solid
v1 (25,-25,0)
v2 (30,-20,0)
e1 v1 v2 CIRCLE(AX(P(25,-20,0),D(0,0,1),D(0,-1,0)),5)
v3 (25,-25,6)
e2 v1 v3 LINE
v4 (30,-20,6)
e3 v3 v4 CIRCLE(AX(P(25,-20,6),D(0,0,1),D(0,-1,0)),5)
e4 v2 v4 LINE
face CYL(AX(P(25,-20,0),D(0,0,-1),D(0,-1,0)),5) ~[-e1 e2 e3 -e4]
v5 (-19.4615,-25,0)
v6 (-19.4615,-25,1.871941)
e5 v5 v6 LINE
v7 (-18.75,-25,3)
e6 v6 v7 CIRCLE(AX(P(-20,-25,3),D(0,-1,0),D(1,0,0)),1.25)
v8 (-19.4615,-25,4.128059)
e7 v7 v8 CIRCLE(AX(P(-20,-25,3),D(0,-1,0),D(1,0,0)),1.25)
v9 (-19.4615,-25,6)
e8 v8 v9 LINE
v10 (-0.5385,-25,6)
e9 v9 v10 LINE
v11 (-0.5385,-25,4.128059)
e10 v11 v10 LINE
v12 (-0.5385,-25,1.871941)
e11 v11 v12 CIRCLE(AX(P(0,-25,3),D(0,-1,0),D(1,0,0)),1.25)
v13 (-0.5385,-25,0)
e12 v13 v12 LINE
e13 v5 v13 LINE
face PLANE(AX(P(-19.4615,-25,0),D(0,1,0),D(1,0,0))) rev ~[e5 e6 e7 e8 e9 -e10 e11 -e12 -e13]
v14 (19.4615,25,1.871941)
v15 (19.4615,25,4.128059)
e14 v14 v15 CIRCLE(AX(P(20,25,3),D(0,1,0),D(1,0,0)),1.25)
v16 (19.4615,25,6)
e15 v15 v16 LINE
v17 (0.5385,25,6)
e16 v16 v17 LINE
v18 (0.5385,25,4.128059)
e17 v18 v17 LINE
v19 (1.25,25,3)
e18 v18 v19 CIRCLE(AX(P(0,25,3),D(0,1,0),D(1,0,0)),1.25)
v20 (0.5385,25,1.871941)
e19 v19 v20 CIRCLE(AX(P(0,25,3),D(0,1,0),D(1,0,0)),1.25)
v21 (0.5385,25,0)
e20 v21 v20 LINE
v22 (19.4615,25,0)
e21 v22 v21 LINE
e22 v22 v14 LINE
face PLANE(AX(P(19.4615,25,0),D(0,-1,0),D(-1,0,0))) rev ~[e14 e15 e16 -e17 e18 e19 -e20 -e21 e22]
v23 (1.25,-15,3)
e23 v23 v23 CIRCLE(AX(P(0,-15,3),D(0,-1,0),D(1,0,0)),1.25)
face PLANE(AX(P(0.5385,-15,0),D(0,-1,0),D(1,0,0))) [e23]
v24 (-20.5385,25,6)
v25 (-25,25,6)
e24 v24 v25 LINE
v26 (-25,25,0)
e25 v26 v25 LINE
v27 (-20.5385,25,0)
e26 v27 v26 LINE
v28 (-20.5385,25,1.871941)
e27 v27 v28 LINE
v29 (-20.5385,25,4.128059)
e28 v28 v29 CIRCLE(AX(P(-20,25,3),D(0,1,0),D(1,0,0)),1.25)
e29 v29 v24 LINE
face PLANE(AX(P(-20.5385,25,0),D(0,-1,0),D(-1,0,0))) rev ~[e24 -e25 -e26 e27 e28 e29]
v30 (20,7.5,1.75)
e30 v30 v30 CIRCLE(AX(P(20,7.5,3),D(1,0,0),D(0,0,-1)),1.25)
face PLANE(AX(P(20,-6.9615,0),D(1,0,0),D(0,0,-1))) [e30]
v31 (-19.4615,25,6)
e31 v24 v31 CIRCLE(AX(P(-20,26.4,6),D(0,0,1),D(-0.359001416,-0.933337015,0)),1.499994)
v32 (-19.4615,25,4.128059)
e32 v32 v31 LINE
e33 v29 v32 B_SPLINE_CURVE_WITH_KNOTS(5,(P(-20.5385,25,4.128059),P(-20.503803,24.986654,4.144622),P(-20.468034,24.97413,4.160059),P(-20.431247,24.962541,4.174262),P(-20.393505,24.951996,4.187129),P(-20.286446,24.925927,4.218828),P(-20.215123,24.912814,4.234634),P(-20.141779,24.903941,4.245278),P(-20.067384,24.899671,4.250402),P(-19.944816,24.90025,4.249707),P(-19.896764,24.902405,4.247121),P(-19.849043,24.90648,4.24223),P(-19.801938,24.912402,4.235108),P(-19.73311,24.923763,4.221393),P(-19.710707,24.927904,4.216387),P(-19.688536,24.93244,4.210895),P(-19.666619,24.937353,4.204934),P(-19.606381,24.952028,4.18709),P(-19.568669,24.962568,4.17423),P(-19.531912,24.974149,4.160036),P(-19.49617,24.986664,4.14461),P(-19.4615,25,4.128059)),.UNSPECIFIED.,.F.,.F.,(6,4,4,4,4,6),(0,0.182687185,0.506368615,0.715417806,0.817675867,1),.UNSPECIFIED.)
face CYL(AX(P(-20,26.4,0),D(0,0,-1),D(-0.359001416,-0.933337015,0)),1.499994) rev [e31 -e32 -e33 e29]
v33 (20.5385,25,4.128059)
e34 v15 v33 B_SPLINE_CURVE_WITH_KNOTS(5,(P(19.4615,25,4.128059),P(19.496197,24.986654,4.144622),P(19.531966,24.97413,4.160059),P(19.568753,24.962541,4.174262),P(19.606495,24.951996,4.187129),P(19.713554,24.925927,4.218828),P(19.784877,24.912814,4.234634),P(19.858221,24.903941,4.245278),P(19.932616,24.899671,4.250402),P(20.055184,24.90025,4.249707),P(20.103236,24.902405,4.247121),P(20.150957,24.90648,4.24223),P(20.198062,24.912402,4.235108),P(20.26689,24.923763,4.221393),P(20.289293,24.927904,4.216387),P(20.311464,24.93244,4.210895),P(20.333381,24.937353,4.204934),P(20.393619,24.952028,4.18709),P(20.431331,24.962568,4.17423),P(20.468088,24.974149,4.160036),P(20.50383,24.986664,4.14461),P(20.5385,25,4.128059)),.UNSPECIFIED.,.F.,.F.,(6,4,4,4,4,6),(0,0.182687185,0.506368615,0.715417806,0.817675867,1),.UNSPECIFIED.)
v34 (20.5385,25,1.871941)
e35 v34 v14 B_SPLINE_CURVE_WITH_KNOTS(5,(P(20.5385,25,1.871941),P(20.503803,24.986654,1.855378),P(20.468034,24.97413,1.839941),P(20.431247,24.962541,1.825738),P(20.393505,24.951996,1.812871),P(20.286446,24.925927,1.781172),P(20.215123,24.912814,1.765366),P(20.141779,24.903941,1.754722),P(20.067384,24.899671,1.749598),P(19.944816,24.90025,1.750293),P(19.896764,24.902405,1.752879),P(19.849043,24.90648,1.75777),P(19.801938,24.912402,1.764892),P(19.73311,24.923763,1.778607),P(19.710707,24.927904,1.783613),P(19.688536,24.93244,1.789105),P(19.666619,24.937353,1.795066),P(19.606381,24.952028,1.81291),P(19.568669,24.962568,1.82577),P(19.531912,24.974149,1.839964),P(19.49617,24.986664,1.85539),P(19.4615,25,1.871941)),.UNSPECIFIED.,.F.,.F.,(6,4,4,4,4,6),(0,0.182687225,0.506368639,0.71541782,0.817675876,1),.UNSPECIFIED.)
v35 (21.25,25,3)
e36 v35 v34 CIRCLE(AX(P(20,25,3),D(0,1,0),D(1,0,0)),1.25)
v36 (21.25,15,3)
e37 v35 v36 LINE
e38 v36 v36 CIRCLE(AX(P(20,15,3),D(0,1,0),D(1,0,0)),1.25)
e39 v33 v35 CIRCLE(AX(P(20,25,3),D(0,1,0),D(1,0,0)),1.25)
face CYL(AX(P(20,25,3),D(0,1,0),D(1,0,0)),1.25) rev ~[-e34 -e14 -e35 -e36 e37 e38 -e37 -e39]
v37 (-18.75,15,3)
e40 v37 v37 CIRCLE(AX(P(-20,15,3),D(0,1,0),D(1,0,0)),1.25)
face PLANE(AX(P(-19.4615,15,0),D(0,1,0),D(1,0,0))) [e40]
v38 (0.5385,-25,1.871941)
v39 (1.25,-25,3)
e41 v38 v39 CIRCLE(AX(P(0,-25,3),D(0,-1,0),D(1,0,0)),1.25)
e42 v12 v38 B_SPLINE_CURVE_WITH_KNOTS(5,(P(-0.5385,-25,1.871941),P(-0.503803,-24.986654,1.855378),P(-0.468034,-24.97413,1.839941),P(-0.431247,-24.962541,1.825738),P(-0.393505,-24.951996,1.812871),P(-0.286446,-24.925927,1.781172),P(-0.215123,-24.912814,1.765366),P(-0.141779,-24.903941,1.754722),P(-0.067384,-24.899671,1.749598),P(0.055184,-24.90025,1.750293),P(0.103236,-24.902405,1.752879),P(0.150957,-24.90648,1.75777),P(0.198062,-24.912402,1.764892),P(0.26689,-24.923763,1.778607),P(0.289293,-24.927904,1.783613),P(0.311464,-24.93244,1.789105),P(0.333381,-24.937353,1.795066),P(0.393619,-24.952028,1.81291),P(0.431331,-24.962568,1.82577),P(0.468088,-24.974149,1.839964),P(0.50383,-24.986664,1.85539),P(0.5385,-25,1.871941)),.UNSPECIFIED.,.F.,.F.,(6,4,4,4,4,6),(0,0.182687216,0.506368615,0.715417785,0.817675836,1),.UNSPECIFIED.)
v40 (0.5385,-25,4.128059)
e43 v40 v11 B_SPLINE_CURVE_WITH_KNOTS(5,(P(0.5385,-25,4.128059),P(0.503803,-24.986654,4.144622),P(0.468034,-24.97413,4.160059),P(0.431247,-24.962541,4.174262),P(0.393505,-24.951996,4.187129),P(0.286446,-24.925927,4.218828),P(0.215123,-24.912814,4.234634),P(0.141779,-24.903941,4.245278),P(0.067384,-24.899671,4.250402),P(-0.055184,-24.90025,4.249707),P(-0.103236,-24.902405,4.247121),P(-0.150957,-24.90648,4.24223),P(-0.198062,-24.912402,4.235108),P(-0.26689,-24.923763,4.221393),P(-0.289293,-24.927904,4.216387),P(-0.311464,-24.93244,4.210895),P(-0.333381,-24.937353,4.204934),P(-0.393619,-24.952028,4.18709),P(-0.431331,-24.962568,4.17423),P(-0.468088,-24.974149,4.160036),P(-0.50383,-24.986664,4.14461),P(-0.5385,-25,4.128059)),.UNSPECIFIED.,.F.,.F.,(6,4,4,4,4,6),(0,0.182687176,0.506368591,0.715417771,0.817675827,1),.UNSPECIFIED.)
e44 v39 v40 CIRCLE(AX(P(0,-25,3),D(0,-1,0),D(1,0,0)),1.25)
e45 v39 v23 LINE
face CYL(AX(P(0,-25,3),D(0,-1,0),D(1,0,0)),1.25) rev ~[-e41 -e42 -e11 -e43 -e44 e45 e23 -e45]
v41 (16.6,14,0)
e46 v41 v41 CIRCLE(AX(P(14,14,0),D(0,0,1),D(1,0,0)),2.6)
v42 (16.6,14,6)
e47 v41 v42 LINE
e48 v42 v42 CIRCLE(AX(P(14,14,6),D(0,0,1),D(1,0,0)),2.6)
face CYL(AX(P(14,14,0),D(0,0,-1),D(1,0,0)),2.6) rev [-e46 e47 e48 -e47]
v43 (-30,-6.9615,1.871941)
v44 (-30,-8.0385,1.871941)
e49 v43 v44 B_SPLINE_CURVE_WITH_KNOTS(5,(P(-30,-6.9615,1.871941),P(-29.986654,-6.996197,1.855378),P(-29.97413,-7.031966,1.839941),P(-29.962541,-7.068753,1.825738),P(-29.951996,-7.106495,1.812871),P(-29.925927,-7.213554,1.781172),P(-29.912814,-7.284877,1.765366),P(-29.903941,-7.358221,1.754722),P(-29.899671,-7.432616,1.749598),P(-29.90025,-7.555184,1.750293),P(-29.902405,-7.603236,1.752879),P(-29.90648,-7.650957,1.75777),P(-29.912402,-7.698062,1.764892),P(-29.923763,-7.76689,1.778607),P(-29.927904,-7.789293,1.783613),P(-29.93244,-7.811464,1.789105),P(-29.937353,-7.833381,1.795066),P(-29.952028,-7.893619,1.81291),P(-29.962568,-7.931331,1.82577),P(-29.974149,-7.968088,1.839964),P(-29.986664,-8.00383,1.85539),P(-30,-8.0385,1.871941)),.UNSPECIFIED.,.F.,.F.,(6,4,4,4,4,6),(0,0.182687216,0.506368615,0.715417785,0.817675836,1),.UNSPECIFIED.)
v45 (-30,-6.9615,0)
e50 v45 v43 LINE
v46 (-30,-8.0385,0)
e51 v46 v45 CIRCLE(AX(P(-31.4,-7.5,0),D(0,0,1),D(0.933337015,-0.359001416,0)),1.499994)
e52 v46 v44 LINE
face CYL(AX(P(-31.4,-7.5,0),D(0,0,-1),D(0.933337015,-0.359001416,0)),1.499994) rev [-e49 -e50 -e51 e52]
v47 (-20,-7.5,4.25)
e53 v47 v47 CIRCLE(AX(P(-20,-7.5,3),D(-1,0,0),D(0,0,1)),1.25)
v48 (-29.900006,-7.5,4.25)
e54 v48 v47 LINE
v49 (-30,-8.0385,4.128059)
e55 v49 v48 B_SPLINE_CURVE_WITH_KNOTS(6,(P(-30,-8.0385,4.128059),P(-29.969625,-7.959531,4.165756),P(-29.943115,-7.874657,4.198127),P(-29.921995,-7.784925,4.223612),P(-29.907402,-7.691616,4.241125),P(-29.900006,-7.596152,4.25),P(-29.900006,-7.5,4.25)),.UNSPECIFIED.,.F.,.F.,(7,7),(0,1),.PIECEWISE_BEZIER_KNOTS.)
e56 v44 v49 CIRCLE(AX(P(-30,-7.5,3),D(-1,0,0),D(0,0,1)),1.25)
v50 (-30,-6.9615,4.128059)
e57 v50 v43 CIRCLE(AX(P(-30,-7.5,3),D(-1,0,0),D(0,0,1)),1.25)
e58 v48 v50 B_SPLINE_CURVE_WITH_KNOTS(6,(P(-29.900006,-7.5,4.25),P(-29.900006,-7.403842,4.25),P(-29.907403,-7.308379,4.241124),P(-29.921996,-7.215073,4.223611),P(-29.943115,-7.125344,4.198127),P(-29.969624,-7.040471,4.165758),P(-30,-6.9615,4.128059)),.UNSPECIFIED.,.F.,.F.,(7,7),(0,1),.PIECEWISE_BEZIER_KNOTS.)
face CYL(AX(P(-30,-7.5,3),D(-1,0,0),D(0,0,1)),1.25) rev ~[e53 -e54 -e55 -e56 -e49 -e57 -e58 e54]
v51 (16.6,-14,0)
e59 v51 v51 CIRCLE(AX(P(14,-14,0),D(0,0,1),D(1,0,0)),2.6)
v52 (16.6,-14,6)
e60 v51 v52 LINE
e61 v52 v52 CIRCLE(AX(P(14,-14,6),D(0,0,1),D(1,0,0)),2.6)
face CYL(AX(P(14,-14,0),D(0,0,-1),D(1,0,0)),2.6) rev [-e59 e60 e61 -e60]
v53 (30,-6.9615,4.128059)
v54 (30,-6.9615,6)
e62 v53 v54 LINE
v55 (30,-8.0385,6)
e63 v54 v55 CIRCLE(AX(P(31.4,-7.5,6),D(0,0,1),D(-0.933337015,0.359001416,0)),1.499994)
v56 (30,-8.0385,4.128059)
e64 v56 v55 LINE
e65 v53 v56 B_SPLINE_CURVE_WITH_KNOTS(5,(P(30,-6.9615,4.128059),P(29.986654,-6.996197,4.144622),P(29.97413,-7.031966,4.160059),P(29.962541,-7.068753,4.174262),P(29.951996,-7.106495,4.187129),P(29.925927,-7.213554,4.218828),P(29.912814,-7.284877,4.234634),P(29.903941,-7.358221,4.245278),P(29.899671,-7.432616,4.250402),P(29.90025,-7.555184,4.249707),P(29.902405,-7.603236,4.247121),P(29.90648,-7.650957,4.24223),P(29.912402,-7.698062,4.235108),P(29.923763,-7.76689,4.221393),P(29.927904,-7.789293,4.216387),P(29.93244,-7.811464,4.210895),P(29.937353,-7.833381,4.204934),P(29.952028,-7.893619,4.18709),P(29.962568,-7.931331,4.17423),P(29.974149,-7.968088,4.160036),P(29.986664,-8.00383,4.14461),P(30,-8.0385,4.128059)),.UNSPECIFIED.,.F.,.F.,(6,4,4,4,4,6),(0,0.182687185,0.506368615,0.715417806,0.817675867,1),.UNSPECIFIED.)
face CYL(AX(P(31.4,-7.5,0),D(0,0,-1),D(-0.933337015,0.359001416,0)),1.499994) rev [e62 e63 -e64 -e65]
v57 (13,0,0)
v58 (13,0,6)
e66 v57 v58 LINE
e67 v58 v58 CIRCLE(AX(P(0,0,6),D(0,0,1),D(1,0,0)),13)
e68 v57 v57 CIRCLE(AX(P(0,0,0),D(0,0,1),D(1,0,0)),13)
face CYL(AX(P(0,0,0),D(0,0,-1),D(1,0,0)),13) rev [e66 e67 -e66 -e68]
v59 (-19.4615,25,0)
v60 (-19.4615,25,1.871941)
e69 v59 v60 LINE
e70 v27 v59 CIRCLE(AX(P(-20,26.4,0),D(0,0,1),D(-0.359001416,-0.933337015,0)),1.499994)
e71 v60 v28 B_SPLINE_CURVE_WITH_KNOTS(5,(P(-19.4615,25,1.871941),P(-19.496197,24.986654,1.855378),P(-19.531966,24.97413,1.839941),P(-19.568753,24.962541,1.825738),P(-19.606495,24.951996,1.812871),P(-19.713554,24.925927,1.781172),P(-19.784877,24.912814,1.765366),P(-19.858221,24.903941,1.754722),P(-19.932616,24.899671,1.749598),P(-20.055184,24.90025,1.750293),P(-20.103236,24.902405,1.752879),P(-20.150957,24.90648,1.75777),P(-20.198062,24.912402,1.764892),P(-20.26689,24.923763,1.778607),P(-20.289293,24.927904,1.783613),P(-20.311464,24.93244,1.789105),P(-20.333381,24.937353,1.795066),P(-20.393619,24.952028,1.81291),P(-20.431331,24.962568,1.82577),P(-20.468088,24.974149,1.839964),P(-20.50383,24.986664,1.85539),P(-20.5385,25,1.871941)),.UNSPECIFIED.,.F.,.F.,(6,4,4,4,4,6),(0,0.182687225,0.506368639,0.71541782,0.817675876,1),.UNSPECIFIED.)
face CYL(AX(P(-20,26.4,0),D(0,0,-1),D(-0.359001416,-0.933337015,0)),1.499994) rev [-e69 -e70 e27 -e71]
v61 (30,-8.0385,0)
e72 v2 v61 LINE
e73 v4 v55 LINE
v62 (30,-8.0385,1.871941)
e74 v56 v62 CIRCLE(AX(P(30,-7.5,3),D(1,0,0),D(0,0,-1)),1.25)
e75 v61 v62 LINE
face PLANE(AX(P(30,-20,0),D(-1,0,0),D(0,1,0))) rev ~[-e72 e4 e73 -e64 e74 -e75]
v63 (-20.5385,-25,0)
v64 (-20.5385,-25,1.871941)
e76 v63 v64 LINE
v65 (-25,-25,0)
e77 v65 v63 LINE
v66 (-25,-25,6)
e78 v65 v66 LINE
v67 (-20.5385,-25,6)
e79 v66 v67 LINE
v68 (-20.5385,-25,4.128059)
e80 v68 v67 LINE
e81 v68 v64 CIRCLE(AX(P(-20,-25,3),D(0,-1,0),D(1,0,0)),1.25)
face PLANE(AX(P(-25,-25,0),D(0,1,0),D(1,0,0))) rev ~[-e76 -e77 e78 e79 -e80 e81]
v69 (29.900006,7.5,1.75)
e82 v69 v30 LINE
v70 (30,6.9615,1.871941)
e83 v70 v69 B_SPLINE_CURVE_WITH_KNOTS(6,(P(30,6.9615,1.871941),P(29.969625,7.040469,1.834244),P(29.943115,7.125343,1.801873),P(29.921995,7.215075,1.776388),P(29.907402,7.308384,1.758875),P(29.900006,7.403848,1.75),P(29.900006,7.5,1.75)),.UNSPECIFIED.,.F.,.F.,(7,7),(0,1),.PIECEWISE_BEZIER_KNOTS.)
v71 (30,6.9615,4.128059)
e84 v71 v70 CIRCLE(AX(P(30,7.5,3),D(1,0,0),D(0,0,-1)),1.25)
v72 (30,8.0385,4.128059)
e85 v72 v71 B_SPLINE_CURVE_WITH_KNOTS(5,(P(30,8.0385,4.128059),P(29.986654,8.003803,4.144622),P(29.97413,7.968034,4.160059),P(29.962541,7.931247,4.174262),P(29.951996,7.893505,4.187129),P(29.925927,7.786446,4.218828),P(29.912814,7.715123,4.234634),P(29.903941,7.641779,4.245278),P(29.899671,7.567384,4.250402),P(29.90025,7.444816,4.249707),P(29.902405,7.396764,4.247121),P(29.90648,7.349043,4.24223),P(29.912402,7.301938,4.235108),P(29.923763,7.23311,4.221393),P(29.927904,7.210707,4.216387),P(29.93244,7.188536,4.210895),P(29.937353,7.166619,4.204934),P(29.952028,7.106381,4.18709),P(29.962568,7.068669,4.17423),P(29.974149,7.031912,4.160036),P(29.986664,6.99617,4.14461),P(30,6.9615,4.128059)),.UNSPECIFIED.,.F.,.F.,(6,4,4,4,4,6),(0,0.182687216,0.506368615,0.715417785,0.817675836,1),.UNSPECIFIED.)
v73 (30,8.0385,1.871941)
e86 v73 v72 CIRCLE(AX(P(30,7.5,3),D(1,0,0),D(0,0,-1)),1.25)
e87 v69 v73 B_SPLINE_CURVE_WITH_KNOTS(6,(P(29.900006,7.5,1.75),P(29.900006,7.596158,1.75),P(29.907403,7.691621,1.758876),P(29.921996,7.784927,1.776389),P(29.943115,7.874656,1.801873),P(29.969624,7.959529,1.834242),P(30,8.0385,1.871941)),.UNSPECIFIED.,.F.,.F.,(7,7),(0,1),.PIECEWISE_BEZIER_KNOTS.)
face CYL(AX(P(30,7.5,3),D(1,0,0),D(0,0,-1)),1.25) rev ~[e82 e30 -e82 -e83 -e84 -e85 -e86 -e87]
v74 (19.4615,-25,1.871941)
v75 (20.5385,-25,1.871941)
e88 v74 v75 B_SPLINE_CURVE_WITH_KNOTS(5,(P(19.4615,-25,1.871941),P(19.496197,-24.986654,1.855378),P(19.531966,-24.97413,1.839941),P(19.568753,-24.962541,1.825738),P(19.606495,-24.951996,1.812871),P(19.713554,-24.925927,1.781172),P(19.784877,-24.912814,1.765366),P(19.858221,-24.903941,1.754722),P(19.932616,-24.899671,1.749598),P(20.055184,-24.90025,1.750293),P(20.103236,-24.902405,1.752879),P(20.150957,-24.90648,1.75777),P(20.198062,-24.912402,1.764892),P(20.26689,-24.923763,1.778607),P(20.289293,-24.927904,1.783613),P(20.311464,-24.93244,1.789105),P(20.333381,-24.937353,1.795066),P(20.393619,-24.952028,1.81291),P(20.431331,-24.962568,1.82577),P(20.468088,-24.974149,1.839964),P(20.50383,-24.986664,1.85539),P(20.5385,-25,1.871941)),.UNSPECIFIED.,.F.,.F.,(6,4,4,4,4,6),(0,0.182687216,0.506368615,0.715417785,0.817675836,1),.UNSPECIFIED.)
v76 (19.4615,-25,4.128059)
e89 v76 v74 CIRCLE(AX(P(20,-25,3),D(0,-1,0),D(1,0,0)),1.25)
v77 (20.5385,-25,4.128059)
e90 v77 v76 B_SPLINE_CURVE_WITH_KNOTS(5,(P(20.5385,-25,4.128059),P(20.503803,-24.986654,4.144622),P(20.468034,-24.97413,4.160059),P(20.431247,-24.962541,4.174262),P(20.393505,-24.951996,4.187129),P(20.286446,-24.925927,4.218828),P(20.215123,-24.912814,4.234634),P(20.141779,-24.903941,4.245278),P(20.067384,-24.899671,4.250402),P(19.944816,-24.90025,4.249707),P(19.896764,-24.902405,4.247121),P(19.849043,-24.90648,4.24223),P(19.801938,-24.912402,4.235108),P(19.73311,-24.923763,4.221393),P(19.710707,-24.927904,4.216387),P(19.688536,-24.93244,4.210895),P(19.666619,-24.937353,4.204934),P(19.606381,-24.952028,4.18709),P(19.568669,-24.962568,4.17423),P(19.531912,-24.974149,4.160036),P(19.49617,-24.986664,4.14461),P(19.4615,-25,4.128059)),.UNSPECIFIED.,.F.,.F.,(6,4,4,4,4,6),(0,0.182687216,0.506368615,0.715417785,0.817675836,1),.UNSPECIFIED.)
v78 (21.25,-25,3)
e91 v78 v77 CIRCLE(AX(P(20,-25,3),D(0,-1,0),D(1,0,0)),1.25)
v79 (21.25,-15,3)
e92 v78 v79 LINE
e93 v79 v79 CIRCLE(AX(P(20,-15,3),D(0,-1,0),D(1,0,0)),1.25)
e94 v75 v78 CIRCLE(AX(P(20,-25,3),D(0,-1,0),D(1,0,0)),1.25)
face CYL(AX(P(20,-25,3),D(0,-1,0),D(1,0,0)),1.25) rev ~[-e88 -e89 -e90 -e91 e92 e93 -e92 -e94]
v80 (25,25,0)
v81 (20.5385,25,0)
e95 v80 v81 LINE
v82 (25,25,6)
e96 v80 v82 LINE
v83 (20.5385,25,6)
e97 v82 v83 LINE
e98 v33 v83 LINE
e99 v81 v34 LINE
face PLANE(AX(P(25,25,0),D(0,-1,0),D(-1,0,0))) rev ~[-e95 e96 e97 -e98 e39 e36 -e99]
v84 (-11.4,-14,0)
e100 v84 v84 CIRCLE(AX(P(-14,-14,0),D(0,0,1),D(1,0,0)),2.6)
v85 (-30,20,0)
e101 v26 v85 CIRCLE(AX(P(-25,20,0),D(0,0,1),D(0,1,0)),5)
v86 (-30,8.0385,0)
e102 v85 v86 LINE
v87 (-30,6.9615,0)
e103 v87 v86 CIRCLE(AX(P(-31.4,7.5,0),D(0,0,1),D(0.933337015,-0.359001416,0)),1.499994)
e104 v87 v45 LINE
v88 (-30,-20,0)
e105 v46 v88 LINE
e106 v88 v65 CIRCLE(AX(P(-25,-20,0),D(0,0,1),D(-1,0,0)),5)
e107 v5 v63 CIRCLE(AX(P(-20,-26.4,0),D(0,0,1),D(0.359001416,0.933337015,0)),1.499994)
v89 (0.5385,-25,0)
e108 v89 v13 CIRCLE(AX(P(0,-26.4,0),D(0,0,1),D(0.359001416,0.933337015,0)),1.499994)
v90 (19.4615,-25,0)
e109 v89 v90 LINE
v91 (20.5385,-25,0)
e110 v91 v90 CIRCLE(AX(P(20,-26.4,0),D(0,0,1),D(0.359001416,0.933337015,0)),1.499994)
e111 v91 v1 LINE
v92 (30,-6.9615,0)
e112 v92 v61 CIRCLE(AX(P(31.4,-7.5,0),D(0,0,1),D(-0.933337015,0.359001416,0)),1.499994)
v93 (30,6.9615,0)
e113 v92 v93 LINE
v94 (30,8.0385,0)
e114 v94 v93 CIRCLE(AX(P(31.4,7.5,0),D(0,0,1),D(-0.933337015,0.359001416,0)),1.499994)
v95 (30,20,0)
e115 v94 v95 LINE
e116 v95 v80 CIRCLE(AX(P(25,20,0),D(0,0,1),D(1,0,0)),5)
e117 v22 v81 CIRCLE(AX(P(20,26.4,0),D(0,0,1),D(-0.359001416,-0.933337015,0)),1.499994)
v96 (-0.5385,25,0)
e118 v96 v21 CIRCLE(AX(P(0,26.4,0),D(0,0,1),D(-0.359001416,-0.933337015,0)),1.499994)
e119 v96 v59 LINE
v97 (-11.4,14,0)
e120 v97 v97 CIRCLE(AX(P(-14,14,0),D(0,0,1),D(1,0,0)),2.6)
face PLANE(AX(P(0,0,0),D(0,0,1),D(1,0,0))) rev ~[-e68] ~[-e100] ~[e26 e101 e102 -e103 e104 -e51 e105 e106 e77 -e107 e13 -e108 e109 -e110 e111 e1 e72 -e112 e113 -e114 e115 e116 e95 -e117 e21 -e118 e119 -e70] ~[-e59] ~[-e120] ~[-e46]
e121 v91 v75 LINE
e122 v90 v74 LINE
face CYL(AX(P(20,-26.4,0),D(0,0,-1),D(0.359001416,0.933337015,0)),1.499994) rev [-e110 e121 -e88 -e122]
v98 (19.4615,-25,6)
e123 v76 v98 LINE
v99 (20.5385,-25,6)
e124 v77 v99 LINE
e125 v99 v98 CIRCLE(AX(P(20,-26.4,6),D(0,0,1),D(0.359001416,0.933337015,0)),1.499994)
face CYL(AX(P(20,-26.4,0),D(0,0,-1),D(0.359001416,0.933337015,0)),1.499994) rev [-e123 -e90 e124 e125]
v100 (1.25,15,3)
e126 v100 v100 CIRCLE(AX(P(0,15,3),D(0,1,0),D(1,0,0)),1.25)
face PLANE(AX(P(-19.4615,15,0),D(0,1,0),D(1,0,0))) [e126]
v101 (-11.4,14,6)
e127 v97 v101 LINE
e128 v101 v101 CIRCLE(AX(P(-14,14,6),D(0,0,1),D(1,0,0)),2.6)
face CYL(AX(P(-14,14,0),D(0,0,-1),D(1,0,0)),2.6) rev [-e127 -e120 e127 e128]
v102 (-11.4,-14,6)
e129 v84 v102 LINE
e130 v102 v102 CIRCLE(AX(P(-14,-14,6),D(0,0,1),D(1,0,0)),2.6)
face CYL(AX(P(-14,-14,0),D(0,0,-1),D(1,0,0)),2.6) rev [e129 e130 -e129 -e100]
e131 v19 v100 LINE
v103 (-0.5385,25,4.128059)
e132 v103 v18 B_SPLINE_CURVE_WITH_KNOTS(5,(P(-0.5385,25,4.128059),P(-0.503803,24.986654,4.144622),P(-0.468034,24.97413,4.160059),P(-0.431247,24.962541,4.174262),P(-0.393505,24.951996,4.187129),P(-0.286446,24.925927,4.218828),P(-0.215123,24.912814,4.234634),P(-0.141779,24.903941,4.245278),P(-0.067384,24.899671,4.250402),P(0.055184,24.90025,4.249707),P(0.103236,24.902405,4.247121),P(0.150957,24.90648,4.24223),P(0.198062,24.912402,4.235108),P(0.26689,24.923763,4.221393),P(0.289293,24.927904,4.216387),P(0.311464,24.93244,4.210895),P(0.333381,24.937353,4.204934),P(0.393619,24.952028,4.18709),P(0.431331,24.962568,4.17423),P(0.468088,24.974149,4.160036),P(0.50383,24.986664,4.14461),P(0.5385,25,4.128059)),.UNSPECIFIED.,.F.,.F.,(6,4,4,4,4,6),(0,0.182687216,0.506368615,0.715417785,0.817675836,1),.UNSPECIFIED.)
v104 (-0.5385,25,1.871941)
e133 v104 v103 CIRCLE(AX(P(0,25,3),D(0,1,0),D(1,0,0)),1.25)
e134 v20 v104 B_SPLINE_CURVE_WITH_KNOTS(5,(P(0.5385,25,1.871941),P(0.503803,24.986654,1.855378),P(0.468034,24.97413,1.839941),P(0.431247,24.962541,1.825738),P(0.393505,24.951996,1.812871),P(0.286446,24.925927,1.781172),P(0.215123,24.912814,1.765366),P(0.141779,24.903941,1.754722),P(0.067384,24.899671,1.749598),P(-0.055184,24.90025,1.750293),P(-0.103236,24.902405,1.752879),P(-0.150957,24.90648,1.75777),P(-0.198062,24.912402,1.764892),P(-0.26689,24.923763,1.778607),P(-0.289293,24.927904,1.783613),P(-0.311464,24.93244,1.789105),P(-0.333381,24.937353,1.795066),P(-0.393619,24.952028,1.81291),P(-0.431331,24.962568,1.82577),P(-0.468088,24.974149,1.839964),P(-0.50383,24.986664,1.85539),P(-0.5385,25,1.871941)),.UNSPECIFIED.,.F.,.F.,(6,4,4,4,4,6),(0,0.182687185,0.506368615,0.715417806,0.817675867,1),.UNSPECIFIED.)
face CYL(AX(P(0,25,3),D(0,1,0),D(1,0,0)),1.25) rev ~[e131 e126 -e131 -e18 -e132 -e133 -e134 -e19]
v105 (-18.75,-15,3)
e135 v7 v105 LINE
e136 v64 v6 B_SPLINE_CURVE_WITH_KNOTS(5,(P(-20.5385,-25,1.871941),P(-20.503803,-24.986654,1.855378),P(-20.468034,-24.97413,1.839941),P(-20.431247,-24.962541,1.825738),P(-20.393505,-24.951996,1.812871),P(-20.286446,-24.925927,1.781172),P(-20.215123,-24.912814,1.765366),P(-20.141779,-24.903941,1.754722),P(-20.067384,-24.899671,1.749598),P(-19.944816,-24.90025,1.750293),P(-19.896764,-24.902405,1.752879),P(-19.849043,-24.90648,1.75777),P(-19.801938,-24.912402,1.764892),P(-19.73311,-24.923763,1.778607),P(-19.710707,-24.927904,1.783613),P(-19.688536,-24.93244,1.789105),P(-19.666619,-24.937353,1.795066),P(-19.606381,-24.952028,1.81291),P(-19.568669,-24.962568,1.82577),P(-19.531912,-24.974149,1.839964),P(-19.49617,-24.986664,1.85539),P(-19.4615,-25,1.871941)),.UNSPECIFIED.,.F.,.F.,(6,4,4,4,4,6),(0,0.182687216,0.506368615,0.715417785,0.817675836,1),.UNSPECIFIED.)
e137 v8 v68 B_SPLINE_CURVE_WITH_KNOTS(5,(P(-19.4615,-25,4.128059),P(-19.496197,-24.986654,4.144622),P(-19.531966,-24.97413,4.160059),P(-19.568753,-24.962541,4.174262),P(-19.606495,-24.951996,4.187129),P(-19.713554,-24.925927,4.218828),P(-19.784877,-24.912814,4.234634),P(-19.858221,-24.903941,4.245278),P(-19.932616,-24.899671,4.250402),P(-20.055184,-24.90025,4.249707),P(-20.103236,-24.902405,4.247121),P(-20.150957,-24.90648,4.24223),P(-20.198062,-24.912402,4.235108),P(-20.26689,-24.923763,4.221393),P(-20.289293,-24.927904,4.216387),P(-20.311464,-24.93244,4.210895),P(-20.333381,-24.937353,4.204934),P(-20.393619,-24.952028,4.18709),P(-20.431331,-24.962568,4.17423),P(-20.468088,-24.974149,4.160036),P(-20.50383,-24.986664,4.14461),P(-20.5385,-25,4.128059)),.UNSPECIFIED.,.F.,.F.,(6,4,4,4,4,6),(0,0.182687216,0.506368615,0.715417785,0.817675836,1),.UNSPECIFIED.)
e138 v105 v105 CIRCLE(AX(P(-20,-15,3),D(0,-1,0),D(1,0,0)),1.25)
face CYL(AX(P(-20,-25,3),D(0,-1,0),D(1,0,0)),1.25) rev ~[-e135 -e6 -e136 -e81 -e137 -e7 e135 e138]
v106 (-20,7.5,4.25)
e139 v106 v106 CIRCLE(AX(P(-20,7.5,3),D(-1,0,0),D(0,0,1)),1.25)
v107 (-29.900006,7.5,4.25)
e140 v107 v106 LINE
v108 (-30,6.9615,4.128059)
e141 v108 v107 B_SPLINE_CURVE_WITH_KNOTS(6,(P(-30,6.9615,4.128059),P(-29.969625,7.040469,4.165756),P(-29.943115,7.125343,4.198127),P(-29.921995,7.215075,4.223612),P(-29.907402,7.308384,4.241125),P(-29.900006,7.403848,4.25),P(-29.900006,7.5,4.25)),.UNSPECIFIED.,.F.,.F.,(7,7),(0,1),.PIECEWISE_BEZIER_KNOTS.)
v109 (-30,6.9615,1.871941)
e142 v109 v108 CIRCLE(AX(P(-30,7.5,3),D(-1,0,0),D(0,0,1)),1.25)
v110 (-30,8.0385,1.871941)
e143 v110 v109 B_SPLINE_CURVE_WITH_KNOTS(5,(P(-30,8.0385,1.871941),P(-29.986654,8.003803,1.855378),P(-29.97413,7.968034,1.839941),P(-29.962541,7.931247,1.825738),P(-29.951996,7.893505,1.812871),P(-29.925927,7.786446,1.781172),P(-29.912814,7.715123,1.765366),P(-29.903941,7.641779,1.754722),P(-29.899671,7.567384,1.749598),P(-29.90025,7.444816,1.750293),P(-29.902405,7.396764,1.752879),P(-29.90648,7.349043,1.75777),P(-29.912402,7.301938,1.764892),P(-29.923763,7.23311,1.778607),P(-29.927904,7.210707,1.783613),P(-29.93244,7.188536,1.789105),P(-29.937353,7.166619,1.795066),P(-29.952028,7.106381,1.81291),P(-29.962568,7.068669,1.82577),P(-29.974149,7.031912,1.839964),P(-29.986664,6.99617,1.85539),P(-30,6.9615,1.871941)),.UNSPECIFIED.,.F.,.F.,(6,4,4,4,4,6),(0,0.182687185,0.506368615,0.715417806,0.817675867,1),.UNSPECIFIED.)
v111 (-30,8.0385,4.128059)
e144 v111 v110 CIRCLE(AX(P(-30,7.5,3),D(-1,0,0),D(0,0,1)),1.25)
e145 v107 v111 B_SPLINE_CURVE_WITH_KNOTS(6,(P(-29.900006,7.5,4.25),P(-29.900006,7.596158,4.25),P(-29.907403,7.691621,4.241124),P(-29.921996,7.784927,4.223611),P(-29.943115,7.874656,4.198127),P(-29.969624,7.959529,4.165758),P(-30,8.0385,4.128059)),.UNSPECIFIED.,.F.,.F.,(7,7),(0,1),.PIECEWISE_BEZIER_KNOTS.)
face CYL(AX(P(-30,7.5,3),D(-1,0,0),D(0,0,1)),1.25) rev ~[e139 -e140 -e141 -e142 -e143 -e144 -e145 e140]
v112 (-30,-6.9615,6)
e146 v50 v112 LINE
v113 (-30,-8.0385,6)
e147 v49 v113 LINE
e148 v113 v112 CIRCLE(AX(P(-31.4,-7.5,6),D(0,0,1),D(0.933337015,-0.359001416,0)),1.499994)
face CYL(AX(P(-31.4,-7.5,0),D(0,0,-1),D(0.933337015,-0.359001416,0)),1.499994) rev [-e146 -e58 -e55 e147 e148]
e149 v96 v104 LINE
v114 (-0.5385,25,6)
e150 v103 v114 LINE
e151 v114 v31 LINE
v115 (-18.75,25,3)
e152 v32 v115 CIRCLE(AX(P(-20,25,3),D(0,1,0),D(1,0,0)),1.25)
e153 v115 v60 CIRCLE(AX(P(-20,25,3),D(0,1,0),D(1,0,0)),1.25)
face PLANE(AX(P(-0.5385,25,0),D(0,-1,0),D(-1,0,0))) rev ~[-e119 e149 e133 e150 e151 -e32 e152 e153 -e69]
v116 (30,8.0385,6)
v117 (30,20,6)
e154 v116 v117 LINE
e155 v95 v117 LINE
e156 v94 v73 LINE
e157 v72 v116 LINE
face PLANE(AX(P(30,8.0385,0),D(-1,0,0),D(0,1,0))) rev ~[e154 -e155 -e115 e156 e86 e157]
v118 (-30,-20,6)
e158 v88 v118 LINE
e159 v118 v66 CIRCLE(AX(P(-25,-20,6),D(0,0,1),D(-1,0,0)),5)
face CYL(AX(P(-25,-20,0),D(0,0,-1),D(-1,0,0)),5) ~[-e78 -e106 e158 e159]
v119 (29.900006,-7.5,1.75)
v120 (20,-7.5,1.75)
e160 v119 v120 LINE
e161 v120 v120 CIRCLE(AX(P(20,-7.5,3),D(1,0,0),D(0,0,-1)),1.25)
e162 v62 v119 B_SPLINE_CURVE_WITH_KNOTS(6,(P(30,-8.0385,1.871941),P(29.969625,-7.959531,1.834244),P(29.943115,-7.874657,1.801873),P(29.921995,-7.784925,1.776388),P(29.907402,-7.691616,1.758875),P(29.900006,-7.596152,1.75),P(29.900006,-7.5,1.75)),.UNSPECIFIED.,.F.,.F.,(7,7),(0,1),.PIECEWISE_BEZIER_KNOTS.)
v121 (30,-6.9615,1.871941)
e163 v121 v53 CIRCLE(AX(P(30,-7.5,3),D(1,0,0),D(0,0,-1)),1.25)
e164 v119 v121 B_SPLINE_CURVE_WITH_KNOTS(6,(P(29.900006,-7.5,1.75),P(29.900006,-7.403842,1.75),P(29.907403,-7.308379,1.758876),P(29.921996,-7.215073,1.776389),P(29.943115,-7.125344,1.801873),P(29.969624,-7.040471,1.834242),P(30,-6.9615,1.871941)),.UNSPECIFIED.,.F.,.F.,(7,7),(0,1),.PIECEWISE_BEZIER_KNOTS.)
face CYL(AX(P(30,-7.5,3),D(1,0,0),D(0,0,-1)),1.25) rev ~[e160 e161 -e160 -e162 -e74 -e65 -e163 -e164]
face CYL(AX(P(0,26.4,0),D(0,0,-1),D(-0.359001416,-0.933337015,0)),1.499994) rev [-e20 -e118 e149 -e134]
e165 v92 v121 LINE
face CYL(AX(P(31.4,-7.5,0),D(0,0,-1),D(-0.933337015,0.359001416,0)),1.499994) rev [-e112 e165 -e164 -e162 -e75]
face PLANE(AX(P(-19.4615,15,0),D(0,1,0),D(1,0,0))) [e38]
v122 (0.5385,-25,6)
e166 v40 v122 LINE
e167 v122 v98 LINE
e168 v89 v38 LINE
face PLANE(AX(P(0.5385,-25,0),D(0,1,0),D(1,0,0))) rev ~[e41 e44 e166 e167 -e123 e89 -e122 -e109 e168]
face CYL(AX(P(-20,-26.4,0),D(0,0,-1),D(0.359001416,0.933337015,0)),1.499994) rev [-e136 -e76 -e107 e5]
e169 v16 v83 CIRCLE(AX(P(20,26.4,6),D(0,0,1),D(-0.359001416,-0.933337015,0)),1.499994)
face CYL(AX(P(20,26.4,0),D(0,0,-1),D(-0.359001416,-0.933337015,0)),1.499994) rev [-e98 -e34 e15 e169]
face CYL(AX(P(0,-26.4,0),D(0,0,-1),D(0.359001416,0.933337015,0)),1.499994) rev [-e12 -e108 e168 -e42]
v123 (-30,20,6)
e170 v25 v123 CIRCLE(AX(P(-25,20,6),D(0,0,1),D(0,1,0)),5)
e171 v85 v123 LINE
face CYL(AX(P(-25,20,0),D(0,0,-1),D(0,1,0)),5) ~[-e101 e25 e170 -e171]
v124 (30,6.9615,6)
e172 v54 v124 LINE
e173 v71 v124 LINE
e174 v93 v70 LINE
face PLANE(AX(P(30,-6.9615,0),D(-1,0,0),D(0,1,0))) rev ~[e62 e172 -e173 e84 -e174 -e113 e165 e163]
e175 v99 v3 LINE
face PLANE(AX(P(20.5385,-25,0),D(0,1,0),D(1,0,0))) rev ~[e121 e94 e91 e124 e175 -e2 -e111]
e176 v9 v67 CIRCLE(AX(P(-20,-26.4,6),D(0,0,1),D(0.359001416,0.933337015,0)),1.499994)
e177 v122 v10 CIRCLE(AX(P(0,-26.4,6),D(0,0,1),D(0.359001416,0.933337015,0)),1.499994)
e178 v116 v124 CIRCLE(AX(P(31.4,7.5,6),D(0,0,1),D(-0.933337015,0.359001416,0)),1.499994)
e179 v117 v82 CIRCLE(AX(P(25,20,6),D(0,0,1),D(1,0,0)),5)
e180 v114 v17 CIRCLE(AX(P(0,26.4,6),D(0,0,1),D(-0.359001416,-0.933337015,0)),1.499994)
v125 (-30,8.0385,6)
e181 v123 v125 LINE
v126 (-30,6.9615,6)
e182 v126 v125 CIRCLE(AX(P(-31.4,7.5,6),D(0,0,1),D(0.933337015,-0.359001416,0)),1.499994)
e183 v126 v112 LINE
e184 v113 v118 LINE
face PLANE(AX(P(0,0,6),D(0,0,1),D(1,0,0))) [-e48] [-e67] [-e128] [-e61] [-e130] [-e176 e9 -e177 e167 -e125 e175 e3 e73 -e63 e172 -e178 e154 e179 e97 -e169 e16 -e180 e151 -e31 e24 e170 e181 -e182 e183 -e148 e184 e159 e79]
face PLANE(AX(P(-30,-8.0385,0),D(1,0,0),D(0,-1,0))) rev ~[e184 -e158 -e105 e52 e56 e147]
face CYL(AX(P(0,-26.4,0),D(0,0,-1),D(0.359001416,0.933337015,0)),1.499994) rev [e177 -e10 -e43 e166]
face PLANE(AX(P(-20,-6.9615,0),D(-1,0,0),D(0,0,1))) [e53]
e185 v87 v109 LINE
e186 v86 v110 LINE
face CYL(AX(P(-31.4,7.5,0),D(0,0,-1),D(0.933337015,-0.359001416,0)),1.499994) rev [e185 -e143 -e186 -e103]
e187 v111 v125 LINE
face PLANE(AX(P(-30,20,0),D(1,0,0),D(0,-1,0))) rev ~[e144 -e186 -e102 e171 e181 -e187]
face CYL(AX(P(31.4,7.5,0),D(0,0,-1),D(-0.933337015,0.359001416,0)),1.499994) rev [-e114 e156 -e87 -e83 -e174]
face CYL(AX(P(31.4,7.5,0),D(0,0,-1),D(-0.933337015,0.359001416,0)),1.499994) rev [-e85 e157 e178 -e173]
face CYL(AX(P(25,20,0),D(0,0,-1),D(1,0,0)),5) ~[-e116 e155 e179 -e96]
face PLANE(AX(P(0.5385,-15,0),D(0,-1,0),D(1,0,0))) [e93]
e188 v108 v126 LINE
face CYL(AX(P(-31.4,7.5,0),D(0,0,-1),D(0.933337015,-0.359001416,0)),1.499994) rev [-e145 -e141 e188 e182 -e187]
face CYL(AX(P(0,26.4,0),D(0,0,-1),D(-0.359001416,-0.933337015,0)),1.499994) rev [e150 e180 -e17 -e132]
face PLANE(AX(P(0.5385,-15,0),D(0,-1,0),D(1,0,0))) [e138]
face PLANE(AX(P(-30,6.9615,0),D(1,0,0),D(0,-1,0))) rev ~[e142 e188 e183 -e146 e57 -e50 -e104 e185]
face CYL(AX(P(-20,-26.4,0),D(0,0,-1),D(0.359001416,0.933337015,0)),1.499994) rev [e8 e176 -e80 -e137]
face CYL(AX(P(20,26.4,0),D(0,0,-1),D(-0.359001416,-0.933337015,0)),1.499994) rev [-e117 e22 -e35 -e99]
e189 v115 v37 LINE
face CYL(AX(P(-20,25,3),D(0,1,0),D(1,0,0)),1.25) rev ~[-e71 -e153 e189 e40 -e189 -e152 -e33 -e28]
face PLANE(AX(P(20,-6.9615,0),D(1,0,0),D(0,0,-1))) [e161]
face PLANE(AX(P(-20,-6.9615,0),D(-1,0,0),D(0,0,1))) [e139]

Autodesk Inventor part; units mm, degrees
ref_plane "YZ Plane" through (0, 0, 0) normal (1, 0, 0) x (0, 1, 0)
ref_plane "XZ Plane" through (0, 0, 0) normal (0, 1, 0) x (-1, 0, 0)
ref_plane "XY Plane" through (0, 0, 0) normal (0, 0, 1) x (1, 0, 0)
sketch "スケッチ1" plane through (0, 0, 0) normal (0, 0, 1) x (1, 0, 0)
  circle A0 centre (0, 0) radius 13
  circle A1 centre (-14, 14) radius 2.6
  circle A2 centre (14, 14) radius 2.6
  circle A3 centre (14, -14) radius 2.6
  circle A4 centre (-14, -14) radius 2.6
  line L0 (25, 25) -> (20.5385, 25)
  line L1 (-30, 20) -> (-30, 8.0385)
  line L2 (-25, -25) -> (-20.5385, -25)
  line L3 (30, -20) -> (30, -8.0385)
  line L4 (30, 25) -> (-30, -25) construction
  line L5 (-30, 25) -> (30, -25) construction
  arc A5 (-19.4615, 25) -> (-20.5385, 25) centre (-20, 26.4) ccw construction
  arc A6 (0.5385, 25) -> (-0.5385, 25) centre (0, 26.4) ccw construction
  arc A7 (20.5385, 25) -> (19.4615, 25) centre (20, 26.4) ccw construction
  arc A8 (-20.5385, 25) -> (-19.4615, 25) centre (-20, 26.4) ccw
  line L6 (-19.4615, 25) -> (-20.5385, 25) construction
  line L7 (-20.5385, 25) -> (-25, 25)
  arc A9 (-0.5385, 25) -> (0.5385, 25) centre (0, 26.4) ccw
  line L8 (0.5385, 25) -> (-0.5385, 25) construction
  line L9 (-0.5385, 25) -> (-19.4615, 25)
  arc A10 (19.4615, 25) -> (20.5385, 25) centre (20, 26.4) ccw
  line L10 (20.5385, 25) -> (19.4615, 25) construction
  line L11 (19.4615, 25) -> (0.5385, 25)
  arc A11 (-0.5385, -25) -> (0.5385, -25) centre (0, -26.4) ccw construction
  arc A12 (-20.5385, -25) -> (-19.4615, -25) centre (-20, -26.4) ccw construction
  arc A13 (19.4615, -25) -> (20.5385, -25) centre (20, -26.4) ccw construction
  arc A14 (-19.4615, -25) -> (-20.5385, -25) centre (-20, -26.4) ccw
  line L12 (-19.4615, -25) -> (-0.5385, -25)
  line L13 (-20.5385, -25) -> (-19.4615, -25) construction
  arc A15 (0.5385, -25) -> (-0.5385, -25) centre (0, -26.4) ccw
  line L14 (0.5385, -25) -> (19.4615, -25)
  line L15 (-0.5385, -25) -> (0.5385, -25) construction
  arc A16 (20.5385, -25) -> (19.4615, -25) centre (20, -26.4) ccw
  line L16 (20.5385, -25) -> (25, -25)
  line L17 (19.4615, -25) -> (20.5385, -25) construction
  arc A17 (-30, 8.0385) -> (-30, 6.9615) centre (-31.4, 7.5) ccw construction
  arc A18 (-30, -6.9615) -> (-30, -8.0385) centre (-31.4, -7.5) ccw construction
  arc A19 (30, 6.9615) -> (30, 8.0385) centre (31.4, 7.5) ccw construction
  arc A20 (30, -8.0385) -> (30, -6.9615) centre (31.4, -7.5) ccw construction
  arc A21 (-30, 6.9615) -> (-30, 8.0385) centre (-31.4, 7.5) ccw
  line L18 (-30, 6.9615) -> (-30, -6.9615)
  line L19 (-30, 8.0385) -> (-30, 6.9615) construction
  arc A22 (-30, -8.0385) -> (-30, -6.9615) centre (-31.4, -7.5) ccw
  line L20 (-30, -8.0385) -> (-30, -20)
  line L21 (-30, -6.9615) -> (-30, -8.0385) construction
  arc A23 (30, 8.0385) -> (30, 6.9615) centre (31.4, 7.5) ccw
  line L22 (30, 6.9615) -> (30, 8.0385) construction
  line L23 (30, 8.0385) -> (30, 20)
  arc A24 (30, -6.9615) -> (30, -8.0385) centre (31.4, -7.5) ccw
  line L24 (30, -6.9615) -> (30, 6.9615)
  line L25 (30, -8.0385) -> (30, -6.9615) construction
  arc A25 (-25, 25) -> (-30, 20) centre (-25, 20) ccw
  arc A26 (30, 20) -> (25, 25) centre (25, 20) ccw
  arc A27 (25, -25) -> (30, -20) centre (25, -20) ccw
  arc A28 (-30, -20) -> (-25, -25) centre (-25, -20) ccw
  point P0 (0, 0)
  point P1 (0, 0)
  dimension "d0" = 26
  dimension "d1" = 28
  dimension "d2" = 14
  dimension "d3" = 5.2
  dimension "d4" = 5.2
  dimension "d5" = 28
  dimension "d6" = 14
  dimension "d7" = 5.2
  dimension "d8" = 5.2
  dimension "d9" = 60
  dimension "d10" = 50
  dimension "d11" = 3
  dimension "d12" = 3
  dimension "d13" = 20
  dimension "d14" = 3
  dimension "d15" = 20
  dimension "d16" = 1.4
  dimension "d17" = 3
  dimension "d18" = 3
  dimension "d19" = 3
  dimension "d20" = 20
  dimension "d21" = 20
  dimension "d22" = 1.4
  dimension "d23" = 3
  dimension "d24" = 3
  dimension "d25" = 3
  dimension "d26" = 3
  dimension "d27" = 15
  dimension "d28" = 15
  dimension "d29" = 7.5
  dimension "d30" = 7.5
  dimension "d31" = 1.4
  dimension "d32" = 1.4
  dimension "d33" = 5
extrude "押し出し1" add sketch "スケッチ1" along normal blind 6
sketch "スケッチ2" plane through (-19.4615, 25, 0) normal (0, 1, 0) x (1, 0, 0)
  circle A0 centre (-0.5385, -3) radius 1.25
  circle A1 centre (19.4615, -3) radius 1.25
  circle A2 centre (39.4615, -3) radius 1.25
  point P0 (19.4615, 0)
  dimension "d36" = 2.5
  dimension "d37" = 2.5
  dimension "d38" = 2.5
  dimension "d39" = 3
  dimension "d40" = 20
  dimension "d41" = 20
sketch "スケッチ3" plane through (30, -6.9615, 0) normal (1, 0, 0) x (0, 0, -1)
  circle A0 centre (-3, 14.4615) radius 1.25
  circle A1 centre (-3, -0.5385) radius 1.25
  point P0 (0, 6.9615)
  dimension "d42" = 2.5
  dimension "d43" = 2.5
  dimension "d44" = 3
  dimension "d45" = 7.5
  dimension "d46" = 7.5
extrude "押し出し2" cut sketch "スケッチ3" against normal blind 10
extrude "押し出し3" cut sketch "スケッチ2" against normal blind 10
sketch "スケッチ4" plane through (0.5385, -25, 0) normal (0, -1, 0) x (1, 0, 0)
  circle A0 centre (-0.5385, 3) radius 1.25
  circle A1 centre (-20.5385, 3) radius 1.25
  circle A2 centre (19.4615, 3) radius 1.25
  point P0 (-0.5385, 0)
  dimension "d51" = 2.5
  dimension "d52" = 2.5
  dimension "d53" = 2.5
  dimension "d54" = 20
  dimension "d55" = 20
  dimension "d56" = 3
extrude "押し出し4" cut sketch "スケッチ4" against normal blind 10
sketch "スケッチ5" plane through (-30, -6.9615, 0) normal (-1, 0, 0) x (0, 0, 1)
  circle A0 centre (3, 14.4615) radius 1.25 projected
  circle A1 centre (3, -0.5385) radius 1.25 projected
  point P0 (0, 6.9615)
extrude "押し出し5" cut sketch "スケッチ5" against normal blind 10
equation "\"d2\" = 0.5 * d1"
equation "\"d6\" = 0.5 * d5"
equation "\"d29\" = 0.5 * d27"
equation "\"d30\" = 0.5 * d28"
properties part number "エアシリンダマウント" material "ポリカーボネート、スモーク"
